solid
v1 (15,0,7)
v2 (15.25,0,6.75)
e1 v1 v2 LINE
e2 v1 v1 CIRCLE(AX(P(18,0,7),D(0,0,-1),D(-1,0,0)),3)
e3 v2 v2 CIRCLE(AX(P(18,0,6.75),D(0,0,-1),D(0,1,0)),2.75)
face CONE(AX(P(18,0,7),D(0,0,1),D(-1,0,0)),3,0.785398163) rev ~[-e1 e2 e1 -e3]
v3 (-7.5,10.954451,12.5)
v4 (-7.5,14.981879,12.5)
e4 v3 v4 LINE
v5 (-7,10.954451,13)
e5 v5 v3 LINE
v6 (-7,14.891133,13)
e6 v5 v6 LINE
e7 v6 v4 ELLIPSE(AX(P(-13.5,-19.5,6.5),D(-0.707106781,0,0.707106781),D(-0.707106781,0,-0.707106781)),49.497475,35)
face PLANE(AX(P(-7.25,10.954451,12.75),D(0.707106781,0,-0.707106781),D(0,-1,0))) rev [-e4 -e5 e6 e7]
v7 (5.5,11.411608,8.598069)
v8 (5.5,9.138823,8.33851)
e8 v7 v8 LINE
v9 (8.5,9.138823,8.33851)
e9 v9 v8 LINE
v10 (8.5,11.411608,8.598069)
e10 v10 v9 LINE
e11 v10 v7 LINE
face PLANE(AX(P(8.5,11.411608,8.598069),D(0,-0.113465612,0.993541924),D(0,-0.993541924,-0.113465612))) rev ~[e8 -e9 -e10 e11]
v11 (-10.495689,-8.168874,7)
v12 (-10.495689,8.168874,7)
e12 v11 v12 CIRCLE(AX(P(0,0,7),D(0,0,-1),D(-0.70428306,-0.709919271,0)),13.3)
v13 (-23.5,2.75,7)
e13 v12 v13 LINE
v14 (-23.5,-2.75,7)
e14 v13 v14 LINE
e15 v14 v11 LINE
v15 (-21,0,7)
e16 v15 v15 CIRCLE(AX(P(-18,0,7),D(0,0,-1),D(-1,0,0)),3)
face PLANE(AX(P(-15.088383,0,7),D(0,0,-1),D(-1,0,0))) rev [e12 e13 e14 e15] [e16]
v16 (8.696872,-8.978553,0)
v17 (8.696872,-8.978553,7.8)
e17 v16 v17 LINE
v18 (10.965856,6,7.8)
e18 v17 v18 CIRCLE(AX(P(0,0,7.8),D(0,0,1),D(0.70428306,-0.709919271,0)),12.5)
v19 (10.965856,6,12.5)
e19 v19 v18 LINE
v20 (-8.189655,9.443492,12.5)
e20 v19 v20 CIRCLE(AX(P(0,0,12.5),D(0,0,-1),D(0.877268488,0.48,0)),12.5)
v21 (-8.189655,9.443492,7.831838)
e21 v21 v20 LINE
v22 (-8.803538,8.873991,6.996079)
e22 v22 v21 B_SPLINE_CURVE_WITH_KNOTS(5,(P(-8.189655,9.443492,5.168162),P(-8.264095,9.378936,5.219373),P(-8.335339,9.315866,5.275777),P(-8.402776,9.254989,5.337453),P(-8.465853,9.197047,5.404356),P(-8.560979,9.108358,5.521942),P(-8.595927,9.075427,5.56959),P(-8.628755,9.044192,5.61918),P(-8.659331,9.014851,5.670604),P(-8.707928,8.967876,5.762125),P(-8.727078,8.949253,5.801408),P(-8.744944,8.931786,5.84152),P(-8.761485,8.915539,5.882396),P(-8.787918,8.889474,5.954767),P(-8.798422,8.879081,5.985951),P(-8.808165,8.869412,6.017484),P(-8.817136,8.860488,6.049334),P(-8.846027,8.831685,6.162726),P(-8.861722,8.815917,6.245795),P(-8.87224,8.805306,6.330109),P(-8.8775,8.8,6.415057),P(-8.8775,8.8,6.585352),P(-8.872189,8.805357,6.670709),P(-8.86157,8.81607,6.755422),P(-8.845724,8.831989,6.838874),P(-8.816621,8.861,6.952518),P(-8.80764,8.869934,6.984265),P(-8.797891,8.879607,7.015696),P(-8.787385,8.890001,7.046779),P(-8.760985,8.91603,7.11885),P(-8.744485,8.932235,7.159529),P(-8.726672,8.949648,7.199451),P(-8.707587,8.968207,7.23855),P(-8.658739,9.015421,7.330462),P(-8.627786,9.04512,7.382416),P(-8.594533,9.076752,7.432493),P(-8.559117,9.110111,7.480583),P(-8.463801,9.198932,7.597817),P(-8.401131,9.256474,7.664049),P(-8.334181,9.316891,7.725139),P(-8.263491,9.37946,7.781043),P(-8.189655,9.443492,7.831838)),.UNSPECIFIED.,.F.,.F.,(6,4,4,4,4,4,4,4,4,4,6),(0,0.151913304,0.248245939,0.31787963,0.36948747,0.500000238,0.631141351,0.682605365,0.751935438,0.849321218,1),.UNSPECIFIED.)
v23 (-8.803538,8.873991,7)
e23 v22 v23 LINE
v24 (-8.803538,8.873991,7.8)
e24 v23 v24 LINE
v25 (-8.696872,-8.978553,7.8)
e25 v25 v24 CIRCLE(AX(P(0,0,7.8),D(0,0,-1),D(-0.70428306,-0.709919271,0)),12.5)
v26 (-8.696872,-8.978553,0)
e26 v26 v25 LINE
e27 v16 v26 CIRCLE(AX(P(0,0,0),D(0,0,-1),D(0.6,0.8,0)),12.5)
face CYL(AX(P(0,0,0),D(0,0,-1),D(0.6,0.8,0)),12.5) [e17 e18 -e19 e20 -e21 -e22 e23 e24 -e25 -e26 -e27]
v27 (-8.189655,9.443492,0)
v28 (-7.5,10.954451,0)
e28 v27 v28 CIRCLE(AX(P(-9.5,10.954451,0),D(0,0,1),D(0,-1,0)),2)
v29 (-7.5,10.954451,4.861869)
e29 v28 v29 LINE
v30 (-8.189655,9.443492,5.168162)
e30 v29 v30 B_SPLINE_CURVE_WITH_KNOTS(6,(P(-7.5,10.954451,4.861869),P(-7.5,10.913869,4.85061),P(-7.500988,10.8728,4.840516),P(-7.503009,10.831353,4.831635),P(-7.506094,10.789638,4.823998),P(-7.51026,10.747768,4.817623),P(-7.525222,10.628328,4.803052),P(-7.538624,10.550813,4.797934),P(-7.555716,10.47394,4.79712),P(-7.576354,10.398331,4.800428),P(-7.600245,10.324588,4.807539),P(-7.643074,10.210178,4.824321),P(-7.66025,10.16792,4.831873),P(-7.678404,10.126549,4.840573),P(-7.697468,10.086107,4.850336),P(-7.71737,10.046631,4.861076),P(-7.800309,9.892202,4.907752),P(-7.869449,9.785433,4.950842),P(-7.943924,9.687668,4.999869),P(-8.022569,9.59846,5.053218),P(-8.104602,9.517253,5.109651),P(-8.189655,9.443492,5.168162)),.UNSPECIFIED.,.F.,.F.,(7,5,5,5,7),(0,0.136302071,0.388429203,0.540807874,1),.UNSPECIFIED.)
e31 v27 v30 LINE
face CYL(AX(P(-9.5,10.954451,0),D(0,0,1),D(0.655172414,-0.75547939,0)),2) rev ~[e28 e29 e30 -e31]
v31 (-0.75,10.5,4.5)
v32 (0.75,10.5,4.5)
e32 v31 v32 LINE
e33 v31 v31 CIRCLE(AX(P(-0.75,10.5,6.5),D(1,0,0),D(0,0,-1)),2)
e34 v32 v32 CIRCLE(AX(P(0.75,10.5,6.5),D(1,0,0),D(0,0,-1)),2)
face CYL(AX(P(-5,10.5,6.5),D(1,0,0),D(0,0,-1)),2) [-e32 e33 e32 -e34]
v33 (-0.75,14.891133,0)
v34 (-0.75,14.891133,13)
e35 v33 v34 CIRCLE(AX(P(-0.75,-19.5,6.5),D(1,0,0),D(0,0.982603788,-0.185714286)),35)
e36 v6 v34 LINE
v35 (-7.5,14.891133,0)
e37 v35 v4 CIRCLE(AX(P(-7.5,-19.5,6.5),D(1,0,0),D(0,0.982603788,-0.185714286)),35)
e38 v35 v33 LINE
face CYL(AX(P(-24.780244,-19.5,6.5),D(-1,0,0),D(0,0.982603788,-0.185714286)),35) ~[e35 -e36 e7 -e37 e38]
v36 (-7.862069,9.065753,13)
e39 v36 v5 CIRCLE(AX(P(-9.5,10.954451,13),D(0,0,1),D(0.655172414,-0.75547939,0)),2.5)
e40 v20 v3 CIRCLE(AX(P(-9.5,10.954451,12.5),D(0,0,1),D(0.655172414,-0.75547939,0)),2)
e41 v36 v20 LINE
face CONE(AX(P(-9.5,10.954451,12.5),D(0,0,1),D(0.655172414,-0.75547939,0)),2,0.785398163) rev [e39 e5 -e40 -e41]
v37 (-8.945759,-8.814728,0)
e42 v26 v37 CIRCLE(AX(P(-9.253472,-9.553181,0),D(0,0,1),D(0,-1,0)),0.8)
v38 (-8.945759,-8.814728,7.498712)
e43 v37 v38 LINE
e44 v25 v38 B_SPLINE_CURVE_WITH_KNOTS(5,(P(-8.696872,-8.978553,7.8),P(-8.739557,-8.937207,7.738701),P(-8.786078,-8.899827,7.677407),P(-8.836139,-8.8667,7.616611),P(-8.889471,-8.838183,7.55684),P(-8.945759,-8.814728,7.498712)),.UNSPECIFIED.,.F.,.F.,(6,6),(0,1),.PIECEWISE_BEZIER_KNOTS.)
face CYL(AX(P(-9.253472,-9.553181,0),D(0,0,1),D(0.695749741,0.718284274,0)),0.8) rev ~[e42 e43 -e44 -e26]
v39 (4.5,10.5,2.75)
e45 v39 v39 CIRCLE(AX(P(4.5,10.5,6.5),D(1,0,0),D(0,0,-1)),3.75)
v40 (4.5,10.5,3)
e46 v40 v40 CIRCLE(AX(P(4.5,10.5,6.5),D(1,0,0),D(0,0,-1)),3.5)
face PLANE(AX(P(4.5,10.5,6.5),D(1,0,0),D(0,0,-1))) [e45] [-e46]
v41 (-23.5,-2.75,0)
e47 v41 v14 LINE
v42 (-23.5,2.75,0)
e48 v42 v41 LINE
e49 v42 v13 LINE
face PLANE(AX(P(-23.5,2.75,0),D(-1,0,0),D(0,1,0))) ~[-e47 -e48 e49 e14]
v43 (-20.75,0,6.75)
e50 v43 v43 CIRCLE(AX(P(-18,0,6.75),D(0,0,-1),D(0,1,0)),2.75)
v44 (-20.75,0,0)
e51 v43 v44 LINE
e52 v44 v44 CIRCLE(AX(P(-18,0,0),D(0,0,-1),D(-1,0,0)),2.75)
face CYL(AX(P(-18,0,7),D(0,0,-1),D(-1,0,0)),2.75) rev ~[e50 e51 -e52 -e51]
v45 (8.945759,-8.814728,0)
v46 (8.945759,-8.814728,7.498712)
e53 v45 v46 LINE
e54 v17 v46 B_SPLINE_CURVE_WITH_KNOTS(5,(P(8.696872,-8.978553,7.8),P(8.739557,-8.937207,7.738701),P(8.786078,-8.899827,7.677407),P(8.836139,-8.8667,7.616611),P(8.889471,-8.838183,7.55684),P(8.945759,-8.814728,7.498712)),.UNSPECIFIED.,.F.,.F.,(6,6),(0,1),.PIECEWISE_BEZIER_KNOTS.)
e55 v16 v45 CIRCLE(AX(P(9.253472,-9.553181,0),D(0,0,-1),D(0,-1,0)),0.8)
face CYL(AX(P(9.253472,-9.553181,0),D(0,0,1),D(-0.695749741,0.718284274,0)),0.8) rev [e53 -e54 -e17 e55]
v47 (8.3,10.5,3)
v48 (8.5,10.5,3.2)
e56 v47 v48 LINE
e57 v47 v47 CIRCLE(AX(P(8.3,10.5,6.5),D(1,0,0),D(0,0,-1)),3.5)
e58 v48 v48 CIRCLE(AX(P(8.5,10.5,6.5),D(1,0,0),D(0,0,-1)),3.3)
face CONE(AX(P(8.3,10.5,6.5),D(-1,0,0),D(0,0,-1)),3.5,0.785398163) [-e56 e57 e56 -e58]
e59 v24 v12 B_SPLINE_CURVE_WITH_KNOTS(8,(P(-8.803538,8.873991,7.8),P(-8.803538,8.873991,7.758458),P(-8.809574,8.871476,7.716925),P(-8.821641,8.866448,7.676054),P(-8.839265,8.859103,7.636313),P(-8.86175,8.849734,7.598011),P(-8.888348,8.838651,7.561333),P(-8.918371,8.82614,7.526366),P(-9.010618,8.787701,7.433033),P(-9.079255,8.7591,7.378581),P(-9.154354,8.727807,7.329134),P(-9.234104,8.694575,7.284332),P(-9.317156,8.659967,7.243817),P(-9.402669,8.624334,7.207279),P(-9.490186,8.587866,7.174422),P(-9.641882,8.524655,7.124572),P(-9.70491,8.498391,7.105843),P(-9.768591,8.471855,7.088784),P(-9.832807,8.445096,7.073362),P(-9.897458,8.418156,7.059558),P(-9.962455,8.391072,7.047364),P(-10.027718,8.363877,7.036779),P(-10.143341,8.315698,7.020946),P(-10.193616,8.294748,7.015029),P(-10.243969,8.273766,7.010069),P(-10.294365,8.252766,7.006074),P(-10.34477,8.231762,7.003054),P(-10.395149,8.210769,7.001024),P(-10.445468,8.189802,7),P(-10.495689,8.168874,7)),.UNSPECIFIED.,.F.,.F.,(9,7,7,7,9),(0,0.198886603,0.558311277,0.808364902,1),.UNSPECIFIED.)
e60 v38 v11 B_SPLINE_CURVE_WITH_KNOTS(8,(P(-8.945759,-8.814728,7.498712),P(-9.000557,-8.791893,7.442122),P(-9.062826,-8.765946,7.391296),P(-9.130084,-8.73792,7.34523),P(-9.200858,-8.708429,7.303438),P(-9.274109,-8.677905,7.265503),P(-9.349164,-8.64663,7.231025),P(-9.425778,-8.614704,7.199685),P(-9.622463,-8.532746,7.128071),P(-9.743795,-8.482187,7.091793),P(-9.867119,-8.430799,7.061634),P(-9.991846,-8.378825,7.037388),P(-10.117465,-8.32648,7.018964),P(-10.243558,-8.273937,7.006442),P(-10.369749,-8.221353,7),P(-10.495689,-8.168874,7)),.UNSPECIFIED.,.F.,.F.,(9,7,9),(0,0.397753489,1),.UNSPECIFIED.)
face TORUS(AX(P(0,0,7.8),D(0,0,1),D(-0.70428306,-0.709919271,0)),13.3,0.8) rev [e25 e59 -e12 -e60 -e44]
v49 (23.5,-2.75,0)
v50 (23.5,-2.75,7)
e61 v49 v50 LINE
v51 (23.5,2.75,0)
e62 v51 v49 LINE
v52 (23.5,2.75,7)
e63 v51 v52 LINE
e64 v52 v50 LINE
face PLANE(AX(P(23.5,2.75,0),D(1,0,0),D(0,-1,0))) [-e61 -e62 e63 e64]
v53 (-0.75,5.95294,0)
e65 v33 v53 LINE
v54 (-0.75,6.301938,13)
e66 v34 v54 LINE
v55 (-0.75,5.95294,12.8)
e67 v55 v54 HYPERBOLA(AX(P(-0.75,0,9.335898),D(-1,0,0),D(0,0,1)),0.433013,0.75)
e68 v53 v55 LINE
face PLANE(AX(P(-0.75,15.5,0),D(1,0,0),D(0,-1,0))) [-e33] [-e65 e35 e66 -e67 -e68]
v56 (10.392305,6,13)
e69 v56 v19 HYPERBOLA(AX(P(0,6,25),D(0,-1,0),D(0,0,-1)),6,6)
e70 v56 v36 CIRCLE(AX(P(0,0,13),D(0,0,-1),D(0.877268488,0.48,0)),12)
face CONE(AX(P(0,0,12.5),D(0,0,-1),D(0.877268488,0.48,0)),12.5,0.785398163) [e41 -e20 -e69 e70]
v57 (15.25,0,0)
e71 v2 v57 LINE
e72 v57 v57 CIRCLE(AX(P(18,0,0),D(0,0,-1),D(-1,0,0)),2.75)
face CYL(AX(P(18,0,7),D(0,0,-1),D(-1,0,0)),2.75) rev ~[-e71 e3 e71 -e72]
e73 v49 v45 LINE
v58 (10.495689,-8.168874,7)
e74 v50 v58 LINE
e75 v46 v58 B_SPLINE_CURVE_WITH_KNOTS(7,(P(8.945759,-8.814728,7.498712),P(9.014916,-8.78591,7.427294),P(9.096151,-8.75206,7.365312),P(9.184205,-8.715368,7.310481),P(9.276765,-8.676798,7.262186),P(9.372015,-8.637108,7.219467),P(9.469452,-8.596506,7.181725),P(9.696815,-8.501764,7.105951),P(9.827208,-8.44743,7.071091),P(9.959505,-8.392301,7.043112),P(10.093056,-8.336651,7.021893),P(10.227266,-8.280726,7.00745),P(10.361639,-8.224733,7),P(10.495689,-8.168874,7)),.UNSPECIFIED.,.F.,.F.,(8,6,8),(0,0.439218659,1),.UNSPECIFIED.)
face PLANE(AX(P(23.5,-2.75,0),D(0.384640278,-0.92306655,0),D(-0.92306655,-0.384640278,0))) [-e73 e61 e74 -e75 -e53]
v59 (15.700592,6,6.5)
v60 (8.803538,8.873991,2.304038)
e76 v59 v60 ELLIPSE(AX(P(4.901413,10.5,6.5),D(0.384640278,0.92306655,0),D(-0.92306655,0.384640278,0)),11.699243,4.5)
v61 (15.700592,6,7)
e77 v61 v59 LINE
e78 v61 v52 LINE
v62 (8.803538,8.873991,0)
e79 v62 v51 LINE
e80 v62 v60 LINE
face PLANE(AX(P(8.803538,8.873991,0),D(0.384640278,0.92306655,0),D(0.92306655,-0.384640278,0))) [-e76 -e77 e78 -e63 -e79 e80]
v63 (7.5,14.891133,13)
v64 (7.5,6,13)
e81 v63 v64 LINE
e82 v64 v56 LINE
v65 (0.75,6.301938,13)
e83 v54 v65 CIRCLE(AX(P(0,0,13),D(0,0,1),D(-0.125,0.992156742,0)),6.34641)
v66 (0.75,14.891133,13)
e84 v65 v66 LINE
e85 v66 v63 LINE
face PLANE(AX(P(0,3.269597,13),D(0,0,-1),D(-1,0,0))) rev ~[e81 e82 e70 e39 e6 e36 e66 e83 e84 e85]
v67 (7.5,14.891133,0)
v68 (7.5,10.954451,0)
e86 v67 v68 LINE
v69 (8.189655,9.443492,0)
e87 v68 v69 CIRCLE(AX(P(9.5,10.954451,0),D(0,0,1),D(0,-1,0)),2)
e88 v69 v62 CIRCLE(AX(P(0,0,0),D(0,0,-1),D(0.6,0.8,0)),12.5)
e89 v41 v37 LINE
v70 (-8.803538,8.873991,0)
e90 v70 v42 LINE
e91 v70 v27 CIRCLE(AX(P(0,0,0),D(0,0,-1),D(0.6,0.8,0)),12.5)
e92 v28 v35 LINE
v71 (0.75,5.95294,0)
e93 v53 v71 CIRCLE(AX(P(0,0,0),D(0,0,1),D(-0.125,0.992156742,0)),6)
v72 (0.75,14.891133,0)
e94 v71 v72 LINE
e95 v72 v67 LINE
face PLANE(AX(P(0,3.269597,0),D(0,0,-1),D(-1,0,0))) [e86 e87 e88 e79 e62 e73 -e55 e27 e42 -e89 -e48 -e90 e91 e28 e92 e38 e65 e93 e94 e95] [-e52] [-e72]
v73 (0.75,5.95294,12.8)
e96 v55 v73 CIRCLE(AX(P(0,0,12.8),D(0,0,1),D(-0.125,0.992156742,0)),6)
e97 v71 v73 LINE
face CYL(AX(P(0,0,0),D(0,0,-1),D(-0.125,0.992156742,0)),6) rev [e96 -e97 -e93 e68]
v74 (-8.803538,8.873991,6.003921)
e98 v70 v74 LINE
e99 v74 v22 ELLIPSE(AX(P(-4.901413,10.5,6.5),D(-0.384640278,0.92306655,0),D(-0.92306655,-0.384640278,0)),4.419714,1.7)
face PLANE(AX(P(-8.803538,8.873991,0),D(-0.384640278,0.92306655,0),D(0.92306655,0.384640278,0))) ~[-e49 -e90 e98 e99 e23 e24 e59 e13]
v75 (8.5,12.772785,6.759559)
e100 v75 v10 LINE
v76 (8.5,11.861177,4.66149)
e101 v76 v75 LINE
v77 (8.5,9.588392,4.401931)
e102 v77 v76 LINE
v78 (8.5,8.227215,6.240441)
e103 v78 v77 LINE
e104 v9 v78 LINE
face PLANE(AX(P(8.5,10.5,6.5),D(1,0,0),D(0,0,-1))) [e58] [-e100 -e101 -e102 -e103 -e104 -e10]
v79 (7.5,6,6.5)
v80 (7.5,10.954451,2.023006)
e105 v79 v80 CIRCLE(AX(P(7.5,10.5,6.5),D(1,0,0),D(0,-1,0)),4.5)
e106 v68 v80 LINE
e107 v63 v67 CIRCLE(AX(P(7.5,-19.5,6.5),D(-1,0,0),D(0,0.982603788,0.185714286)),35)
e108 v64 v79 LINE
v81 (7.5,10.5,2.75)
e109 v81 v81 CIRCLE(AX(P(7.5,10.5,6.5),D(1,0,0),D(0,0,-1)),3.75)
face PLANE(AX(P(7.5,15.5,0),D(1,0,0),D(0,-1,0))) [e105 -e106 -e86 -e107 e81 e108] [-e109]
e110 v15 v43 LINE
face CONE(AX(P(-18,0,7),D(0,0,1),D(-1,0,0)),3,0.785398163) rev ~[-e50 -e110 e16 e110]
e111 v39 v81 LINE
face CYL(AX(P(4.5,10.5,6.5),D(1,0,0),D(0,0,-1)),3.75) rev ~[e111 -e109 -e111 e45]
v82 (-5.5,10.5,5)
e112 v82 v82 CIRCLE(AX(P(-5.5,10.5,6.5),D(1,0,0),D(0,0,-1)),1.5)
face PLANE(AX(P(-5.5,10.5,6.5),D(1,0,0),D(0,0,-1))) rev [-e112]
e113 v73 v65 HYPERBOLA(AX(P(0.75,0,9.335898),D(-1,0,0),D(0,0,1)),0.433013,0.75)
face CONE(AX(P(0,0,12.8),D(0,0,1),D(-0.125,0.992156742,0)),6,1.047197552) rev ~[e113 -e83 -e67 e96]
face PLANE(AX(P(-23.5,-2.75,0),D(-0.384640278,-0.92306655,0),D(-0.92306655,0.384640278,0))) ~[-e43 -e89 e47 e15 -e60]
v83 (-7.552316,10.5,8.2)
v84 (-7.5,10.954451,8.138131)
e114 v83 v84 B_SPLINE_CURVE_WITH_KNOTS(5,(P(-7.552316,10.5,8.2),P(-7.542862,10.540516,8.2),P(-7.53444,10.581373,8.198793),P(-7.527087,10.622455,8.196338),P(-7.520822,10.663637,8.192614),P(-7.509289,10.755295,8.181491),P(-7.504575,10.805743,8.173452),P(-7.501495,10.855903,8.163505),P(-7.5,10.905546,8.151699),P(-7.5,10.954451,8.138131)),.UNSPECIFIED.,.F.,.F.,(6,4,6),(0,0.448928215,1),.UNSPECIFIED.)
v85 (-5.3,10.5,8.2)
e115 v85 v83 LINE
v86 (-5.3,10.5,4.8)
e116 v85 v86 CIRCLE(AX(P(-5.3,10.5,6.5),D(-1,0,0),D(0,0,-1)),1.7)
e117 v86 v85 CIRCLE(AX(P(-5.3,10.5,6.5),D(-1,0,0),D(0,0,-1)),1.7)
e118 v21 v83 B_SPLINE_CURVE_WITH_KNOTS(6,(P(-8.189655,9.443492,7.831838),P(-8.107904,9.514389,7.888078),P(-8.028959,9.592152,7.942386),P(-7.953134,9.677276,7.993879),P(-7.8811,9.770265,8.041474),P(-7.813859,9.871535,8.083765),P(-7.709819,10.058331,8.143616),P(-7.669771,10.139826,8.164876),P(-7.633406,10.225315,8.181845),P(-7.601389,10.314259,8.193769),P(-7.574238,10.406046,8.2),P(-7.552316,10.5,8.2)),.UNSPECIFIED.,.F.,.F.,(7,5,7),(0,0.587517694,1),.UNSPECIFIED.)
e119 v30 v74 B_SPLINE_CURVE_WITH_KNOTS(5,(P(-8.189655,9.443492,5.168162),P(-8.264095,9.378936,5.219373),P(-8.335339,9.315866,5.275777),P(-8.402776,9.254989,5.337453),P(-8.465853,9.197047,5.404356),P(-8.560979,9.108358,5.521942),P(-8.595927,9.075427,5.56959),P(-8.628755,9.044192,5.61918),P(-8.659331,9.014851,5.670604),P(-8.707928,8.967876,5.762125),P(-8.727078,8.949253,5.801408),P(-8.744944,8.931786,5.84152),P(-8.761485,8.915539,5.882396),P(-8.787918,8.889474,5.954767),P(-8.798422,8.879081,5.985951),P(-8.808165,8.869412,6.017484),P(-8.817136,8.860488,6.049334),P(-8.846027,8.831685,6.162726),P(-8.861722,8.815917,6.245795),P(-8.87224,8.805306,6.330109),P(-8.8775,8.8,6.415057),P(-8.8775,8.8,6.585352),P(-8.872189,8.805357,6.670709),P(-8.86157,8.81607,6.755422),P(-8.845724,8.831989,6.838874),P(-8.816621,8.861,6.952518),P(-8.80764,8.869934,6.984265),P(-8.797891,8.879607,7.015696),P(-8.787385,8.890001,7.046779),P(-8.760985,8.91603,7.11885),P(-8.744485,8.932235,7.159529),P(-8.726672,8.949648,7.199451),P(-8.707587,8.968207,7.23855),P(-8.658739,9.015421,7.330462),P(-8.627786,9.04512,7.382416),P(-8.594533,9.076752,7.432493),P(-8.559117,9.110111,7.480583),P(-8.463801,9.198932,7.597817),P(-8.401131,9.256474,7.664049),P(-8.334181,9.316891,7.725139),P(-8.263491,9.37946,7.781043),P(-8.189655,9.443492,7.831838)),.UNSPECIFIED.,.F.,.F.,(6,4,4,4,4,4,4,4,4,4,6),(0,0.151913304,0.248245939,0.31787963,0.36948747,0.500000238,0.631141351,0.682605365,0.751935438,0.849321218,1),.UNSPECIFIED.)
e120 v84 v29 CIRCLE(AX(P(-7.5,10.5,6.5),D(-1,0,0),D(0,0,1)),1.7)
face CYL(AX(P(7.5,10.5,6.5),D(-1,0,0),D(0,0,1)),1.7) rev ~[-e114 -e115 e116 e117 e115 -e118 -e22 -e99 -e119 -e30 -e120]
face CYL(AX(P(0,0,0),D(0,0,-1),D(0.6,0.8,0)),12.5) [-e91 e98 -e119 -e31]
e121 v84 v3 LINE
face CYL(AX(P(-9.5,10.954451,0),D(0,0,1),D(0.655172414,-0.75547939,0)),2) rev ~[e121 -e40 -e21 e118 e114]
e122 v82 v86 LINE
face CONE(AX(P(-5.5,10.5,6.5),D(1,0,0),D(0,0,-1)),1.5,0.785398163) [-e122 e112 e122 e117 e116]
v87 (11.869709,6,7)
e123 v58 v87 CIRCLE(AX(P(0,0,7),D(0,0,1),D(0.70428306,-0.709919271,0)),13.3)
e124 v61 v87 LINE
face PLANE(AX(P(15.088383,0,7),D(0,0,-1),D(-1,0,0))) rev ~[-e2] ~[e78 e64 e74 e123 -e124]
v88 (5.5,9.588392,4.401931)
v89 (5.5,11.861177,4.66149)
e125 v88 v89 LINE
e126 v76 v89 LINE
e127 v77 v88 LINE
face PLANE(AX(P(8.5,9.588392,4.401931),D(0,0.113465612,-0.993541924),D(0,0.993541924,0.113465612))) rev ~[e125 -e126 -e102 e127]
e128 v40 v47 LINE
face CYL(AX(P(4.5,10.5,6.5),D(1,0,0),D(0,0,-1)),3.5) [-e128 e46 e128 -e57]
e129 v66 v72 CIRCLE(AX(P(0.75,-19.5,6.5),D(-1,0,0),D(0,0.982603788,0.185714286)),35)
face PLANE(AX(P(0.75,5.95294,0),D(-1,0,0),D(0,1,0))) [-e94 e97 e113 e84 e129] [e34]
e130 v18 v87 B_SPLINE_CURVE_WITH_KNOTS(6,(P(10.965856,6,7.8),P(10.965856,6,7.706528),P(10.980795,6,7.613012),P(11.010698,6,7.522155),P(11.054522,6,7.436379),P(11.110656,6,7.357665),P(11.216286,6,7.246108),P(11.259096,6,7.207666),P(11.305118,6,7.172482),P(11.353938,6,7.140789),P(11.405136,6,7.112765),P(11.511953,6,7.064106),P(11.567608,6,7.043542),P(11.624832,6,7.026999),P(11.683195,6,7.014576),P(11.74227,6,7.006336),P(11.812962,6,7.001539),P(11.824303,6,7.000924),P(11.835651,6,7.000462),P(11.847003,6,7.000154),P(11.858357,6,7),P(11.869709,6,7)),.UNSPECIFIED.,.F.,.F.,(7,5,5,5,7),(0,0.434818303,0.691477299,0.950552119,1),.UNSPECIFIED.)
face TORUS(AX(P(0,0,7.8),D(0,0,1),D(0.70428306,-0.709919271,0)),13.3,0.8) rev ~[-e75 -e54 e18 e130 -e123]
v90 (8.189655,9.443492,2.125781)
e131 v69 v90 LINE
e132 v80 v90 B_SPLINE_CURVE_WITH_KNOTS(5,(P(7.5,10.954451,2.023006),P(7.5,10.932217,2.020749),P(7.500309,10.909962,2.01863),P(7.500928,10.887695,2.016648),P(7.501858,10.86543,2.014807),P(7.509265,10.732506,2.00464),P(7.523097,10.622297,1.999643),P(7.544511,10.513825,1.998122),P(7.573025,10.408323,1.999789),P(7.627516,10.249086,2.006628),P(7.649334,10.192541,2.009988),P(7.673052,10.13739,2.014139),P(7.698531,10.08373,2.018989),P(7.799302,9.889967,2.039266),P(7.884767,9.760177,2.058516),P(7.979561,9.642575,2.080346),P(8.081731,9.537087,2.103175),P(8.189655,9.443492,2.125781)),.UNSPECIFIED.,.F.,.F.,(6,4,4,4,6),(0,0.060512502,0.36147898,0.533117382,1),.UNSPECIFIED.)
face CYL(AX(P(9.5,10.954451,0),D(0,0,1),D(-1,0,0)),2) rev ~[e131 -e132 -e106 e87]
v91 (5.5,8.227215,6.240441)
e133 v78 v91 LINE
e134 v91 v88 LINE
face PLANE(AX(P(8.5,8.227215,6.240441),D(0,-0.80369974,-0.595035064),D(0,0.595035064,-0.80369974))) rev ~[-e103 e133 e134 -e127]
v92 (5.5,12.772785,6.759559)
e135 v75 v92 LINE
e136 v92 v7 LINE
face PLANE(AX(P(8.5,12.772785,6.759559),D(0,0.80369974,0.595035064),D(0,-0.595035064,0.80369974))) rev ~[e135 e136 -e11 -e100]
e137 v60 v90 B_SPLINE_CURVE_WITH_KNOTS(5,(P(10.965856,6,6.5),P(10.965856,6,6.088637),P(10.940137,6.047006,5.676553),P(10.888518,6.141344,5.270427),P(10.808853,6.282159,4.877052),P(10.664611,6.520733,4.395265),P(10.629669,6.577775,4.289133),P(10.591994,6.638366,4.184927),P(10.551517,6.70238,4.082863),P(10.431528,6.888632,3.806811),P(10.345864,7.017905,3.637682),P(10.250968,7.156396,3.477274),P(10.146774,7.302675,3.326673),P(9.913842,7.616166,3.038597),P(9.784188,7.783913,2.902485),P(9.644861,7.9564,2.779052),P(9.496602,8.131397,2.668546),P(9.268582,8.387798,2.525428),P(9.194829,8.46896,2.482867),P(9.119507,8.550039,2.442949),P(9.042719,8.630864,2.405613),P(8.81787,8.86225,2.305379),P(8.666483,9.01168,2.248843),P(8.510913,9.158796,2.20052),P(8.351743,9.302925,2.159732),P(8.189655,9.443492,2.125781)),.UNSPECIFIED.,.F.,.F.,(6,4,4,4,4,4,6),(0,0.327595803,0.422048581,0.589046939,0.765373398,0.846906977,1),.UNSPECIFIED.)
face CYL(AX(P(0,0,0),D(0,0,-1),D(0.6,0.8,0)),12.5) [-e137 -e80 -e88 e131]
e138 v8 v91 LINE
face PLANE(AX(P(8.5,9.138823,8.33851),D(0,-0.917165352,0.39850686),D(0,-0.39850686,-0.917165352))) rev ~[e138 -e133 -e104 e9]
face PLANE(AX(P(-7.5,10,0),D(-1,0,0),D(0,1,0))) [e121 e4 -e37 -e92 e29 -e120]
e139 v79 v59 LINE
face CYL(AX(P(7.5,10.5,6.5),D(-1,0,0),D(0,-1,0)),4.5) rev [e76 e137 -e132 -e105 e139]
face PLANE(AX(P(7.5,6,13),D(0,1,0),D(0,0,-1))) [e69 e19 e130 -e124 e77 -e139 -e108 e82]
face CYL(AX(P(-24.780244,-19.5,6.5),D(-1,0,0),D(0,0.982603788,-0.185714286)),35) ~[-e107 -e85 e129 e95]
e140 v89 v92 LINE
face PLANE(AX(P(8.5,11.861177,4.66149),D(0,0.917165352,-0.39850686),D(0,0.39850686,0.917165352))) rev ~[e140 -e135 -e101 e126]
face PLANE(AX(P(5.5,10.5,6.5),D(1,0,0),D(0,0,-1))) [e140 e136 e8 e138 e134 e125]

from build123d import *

# Parameters (mm, degrees)
BOSS_EXTRUDE1_DEPTH                                 = 13
CUT_EXTRUDE1_DEPTH                                  = 24.780243901
CUT_EXTRUDE1_DEPTH_BACK                             = 24.780243901
FILLET1_R                                           = 2
BOSS_EXTRUDE2_DEPTH                                 = 7
F_5_5_5_5_DIAMETER_HOLE1_D                          = 5.5
F_5_5_5_5_DIAMETER_HOLE1_DEPTH                      = 10
F_5_5_5_5_DIAMETER_HOLE1_CSINK_D                    = 6
F_5_5_5_5_DIAMETER_HOLE1_CSINK_ANGLE                = 90
F_5_5_5_5_DIAMETER_HOLE1_TIP                        = 1.652366702
CUT_EXTRUDE2_REACH                                  = 39.017
CBORE_FOR_M4_HEX_SOCKET_HEAD_CAP_SCREW3_D           = 3.4
CBORE_FOR_M4_HEX_SOCKET_HEAD_CAP_SCREW3_CBORE_D     = 7.5
CBORE_FOR_M4_HEX_SOCKET_HEAD_CAP_SCREW3_CBORE_DEPTH = 3
CHAMFER1_SIZE                                       = 0.2
CUT_EXTRUDE3_DEPTH                                  = 3
CHAMFER2_SIZE                                       = 0.5
FILLET2_R                                           = 0.8
CHAMFER3_SIZE                                       = 0.2
CHAMFER3_SIZE2                                      = 0.346410162


with BuildPart() as part:
    # Sketch1 → Boss-Extrude1 (new body)
    with BuildSketch(Plane.XY):
        with BuildLine():
            Line((0.75, 5.95294045), (0.75, 15.5))
            Line((0.75, 15.5), (7.5, 15.5))
            Line((7.5, 15.5), (7.5, 10))
            ThreePointArc((7.5, 10), (0, -12.5), (-7.5, 10))
            Line((-7.5, 10), (-7.5, 15.5))
            Line((-7.5, 15.5), (-0.75, 15.5))
            Line((-0.75, 15.5), (-0.75, 5.95294045))
            ThreePointArc((-0.75, 5.95294045), (0, -6), (0.75, 5.95294045))
        make_face()
    extrude(amount=BOSS_EXTRUDE1_DEPTH)

    # Sketch2 → Cut-Extrude1 (cut, two sides: drawn at the far end of the back side and taken through both)
    with BuildSketch(Plane(origin=(0, 0, 0), x_dir=(0, 0, -1), z_dir=(1, 0, 0)).offset(-CUT_EXTRUDE1_DEPTH_BACK)):
        with BuildLine():
            Line((69.410215856, 1.772448509), (0, 14.891132578))
            ThreePointArc((0, 14.891132578), (-6.5, 15.5), (-13, 14.891132578))
            Line((-13, 14.891132578), (-82.410215856, 1.772448509))
            Line((-82.410215856, 1.772448509), (-82.410215856, 143.050584636))
            Line((-82.410215856, 143.050584636), (69.410215856, 143.050584636))
            Line((69.410215856, 143.050584636), (69.410215856, 1.772448509))
        make_face()
    extrude(amount=CUT_EXTRUDE1_DEPTH + CUT_EXTRUDE1_DEPTH_BACK, mode=Mode.SUBTRACT)

    # Fillet1
    fillet1_edges = [part.edges().sort_by_distance(p)[0] for p in [
        (7.5, 10, 6.5),
        (-7.5, 10, 6.5),
    ]]
    fillet(fillet1_edges, radius=FILLET1_R)

    # Sketch3 → Boss-Extrude2 (add)
    with BuildSketch(Plane.XY):
        with BuildLine():
            Line((8.803538255, 8.873990883), (23.5, 2.75))
            Line((23.5, 2.75), (23.5, -2.75))
            Line((23.5, -2.75), (8.803538255, -8.873990883))
            ThreePointArc((8.803538255, -8.873990883), (12.5, 0), (8.803538255, 8.873990883))
        make_face()
    extrude(amount=BOSS_EXTRUDE2_DEPTH)

    # Mirror1: part across plane


with BuildPart() as part_1:
    add(part.part)
    add(part.part.mirror(Plane(origin=(0, 0, 0), x_dir=(0, 0, 1), z_dir=(1, 0, 0))))

    # Ø5.5 (5.5) Diameter Hole1
    with Locations(Plane.XY.offset(7)):
        with Locations((18, 0), (-18, 0)):
            CounterSinkHole(F_5_5_5_5_DIAMETER_HOLE1_D / 2, F_5_5_5_5_DIAMETER_HOLE1_CSINK_D / 2, depth=F_5_5_5_5_DIAMETER_HOLE1_DEPTH, counter_sink_angle=F_5_5_5_5_DIAMETER_HOLE1_CSINK_ANGLE)
            with Locations((0, 0, -(F_5_5_5_5_DIAMETER_HOLE1_DEPTH + F_5_5_5_5_DIAMETER_HOLE1_TIP / 2))):  # 118° drill point
                Cone(0, F_5_5_5_5_DIAMETER_HOLE1_D / 2, F_5_5_5_5_DIAMETER_HOLE1_TIP, mode=Mode.SUBTRACT)

    # Sketch9 → Cut-Extrude2 (cut, up to next)
    with BuildSketch(Plane(origin=(7.5, 0, 0), x_dir=(0, 0, -1), z_dir=(1, 0, 0)), mode=Mode.PRIVATE) as cut_extrude2_sk1:
        with BuildLine():
            Line((-2.023006126, 10.95445115), (-13, 10.95445115))
            Line((-13, 10.95445115), (-13, 6))
            Line((-13, 6), (-6.5, 6))
            ThreePointArc((-6.5, 6), (-3.161210536, 7.482967532), (-2.023006126, 10.95445115))
        make_face()
    cut_extrude2_tool1 = extrude(cut_extrude2_sk1.sketch, amount=CUT_EXTRUDE2_REACH, mode=Mode.PRIVATE) & part_1.part
    add(cut_extrude2_tool1.solids().sort_by_distance((7.5, 8.604622, 7.889878))[0], mode=Mode.SUBTRACT)

    # CBORE for M4 Hex Socket Head Cap Screw3 (through all)
    with Locations(Plane(origin=(7.5, 0, 0), x_dir=(0, 0, -1), z_dir=(1, 0, 0))):
        with Locations((-6.5, 10.5)):
            CounterBoreHole(CBORE_FOR_M4_HEX_SOCKET_HEAD_CAP_SCREW3_D / 2, CBORE_FOR_M4_HEX_SOCKET_HEAD_CAP_SCREW3_CBORE_D / 2, CBORE_FOR_M4_HEX_SOCKET_HEAD_CAP_SCREW3_CBORE_DEPTH)

    # Sketch12 → Revolve1 (revolve)
    with BuildSketch(Plane.XY.offset(6.5), mode=Mode.PRIVATE) as revolve1_sk:
        Polygon((4.5, 14), (8.5, 14), (8.5, 10.5), (-5.5, 10.5), (-5.5, 12), (-5, 12.5), (4.5, 12.5), align=None)
    revolve(revolve1_sk.sketch.rotate(Axis((0, 10.5, 6.5), (1, 0, 0)), 270), axis=Axis((0, 10.5, 6.5), (1, 0, 0)))

    # Chamfer1
    chamfer1_edges = [part_1.edges().sort_by_distance(p)[0] for p in [
        (8.5, 10.5, 10),
    ]]
    chamfer(chamfer1_edges, length=CHAMFER1_SIZE)

    # Sketch13 → Cut-Extrude3 (cut)
    with BuildSketch(Plane(origin=(8.5, 0, 0), x_dir=(0, 0, -1), z_dir=(1, 0, 0))):
        Polygon((-4.661489956, 11.861177424), (-6.759559206, 12.772785116), (-8.598069251, 11.411607691), (-8.338510044, 9.138822576), (-6.240440794, 8.227214884), (-4.401930749, 9.588392309), align=None)
    extrude(amount=-CUT_EXTRUDE3_DEPTH, mode=Mode.SUBTRACT)

    # Chamfer2
    chamfer2_edges = [part_1.edges().sort_by_distance(p)[0] for p in [
        (-7.5, 12.922791864, 13),
        (-2.211613172, -12.302795096, 13),
        (-7.680564695, 10.123996352, 13),
    ]]
    chamfer(chamfer2_edges, length=CHAMFER2_SIZE)

    # Fillet2
    fillet2_edges = [part_1.edges().sort_by_distance(p)[0] for p in [
        (12.36996926, -1.798293779, 7),
        (8.803538255, -8.873990883, 3.5),
        (-12.5, 0, 7),
        (-8.803538255, -8.873990883, 3.5),
    ]]
    fillet(fillet2_edges, radius=FILLET2_R)

    # Chamfer3
    chamfer3_edges = [part_1.edges().sort_by_distance(p)[0] for p in [
        (0, -6, 13),
    ]]
    chamfer3_side = [part_1.faces().sort_by_distance(p)[0] for p in [
        (0, -6, 6.5),
    ]]
    chamfer(chamfer3_edges, length=CHAMFER3_SIZE, length2=CHAMFER3_SIZE2, reference=chamfer3_side[0])


solid = part_1.part
